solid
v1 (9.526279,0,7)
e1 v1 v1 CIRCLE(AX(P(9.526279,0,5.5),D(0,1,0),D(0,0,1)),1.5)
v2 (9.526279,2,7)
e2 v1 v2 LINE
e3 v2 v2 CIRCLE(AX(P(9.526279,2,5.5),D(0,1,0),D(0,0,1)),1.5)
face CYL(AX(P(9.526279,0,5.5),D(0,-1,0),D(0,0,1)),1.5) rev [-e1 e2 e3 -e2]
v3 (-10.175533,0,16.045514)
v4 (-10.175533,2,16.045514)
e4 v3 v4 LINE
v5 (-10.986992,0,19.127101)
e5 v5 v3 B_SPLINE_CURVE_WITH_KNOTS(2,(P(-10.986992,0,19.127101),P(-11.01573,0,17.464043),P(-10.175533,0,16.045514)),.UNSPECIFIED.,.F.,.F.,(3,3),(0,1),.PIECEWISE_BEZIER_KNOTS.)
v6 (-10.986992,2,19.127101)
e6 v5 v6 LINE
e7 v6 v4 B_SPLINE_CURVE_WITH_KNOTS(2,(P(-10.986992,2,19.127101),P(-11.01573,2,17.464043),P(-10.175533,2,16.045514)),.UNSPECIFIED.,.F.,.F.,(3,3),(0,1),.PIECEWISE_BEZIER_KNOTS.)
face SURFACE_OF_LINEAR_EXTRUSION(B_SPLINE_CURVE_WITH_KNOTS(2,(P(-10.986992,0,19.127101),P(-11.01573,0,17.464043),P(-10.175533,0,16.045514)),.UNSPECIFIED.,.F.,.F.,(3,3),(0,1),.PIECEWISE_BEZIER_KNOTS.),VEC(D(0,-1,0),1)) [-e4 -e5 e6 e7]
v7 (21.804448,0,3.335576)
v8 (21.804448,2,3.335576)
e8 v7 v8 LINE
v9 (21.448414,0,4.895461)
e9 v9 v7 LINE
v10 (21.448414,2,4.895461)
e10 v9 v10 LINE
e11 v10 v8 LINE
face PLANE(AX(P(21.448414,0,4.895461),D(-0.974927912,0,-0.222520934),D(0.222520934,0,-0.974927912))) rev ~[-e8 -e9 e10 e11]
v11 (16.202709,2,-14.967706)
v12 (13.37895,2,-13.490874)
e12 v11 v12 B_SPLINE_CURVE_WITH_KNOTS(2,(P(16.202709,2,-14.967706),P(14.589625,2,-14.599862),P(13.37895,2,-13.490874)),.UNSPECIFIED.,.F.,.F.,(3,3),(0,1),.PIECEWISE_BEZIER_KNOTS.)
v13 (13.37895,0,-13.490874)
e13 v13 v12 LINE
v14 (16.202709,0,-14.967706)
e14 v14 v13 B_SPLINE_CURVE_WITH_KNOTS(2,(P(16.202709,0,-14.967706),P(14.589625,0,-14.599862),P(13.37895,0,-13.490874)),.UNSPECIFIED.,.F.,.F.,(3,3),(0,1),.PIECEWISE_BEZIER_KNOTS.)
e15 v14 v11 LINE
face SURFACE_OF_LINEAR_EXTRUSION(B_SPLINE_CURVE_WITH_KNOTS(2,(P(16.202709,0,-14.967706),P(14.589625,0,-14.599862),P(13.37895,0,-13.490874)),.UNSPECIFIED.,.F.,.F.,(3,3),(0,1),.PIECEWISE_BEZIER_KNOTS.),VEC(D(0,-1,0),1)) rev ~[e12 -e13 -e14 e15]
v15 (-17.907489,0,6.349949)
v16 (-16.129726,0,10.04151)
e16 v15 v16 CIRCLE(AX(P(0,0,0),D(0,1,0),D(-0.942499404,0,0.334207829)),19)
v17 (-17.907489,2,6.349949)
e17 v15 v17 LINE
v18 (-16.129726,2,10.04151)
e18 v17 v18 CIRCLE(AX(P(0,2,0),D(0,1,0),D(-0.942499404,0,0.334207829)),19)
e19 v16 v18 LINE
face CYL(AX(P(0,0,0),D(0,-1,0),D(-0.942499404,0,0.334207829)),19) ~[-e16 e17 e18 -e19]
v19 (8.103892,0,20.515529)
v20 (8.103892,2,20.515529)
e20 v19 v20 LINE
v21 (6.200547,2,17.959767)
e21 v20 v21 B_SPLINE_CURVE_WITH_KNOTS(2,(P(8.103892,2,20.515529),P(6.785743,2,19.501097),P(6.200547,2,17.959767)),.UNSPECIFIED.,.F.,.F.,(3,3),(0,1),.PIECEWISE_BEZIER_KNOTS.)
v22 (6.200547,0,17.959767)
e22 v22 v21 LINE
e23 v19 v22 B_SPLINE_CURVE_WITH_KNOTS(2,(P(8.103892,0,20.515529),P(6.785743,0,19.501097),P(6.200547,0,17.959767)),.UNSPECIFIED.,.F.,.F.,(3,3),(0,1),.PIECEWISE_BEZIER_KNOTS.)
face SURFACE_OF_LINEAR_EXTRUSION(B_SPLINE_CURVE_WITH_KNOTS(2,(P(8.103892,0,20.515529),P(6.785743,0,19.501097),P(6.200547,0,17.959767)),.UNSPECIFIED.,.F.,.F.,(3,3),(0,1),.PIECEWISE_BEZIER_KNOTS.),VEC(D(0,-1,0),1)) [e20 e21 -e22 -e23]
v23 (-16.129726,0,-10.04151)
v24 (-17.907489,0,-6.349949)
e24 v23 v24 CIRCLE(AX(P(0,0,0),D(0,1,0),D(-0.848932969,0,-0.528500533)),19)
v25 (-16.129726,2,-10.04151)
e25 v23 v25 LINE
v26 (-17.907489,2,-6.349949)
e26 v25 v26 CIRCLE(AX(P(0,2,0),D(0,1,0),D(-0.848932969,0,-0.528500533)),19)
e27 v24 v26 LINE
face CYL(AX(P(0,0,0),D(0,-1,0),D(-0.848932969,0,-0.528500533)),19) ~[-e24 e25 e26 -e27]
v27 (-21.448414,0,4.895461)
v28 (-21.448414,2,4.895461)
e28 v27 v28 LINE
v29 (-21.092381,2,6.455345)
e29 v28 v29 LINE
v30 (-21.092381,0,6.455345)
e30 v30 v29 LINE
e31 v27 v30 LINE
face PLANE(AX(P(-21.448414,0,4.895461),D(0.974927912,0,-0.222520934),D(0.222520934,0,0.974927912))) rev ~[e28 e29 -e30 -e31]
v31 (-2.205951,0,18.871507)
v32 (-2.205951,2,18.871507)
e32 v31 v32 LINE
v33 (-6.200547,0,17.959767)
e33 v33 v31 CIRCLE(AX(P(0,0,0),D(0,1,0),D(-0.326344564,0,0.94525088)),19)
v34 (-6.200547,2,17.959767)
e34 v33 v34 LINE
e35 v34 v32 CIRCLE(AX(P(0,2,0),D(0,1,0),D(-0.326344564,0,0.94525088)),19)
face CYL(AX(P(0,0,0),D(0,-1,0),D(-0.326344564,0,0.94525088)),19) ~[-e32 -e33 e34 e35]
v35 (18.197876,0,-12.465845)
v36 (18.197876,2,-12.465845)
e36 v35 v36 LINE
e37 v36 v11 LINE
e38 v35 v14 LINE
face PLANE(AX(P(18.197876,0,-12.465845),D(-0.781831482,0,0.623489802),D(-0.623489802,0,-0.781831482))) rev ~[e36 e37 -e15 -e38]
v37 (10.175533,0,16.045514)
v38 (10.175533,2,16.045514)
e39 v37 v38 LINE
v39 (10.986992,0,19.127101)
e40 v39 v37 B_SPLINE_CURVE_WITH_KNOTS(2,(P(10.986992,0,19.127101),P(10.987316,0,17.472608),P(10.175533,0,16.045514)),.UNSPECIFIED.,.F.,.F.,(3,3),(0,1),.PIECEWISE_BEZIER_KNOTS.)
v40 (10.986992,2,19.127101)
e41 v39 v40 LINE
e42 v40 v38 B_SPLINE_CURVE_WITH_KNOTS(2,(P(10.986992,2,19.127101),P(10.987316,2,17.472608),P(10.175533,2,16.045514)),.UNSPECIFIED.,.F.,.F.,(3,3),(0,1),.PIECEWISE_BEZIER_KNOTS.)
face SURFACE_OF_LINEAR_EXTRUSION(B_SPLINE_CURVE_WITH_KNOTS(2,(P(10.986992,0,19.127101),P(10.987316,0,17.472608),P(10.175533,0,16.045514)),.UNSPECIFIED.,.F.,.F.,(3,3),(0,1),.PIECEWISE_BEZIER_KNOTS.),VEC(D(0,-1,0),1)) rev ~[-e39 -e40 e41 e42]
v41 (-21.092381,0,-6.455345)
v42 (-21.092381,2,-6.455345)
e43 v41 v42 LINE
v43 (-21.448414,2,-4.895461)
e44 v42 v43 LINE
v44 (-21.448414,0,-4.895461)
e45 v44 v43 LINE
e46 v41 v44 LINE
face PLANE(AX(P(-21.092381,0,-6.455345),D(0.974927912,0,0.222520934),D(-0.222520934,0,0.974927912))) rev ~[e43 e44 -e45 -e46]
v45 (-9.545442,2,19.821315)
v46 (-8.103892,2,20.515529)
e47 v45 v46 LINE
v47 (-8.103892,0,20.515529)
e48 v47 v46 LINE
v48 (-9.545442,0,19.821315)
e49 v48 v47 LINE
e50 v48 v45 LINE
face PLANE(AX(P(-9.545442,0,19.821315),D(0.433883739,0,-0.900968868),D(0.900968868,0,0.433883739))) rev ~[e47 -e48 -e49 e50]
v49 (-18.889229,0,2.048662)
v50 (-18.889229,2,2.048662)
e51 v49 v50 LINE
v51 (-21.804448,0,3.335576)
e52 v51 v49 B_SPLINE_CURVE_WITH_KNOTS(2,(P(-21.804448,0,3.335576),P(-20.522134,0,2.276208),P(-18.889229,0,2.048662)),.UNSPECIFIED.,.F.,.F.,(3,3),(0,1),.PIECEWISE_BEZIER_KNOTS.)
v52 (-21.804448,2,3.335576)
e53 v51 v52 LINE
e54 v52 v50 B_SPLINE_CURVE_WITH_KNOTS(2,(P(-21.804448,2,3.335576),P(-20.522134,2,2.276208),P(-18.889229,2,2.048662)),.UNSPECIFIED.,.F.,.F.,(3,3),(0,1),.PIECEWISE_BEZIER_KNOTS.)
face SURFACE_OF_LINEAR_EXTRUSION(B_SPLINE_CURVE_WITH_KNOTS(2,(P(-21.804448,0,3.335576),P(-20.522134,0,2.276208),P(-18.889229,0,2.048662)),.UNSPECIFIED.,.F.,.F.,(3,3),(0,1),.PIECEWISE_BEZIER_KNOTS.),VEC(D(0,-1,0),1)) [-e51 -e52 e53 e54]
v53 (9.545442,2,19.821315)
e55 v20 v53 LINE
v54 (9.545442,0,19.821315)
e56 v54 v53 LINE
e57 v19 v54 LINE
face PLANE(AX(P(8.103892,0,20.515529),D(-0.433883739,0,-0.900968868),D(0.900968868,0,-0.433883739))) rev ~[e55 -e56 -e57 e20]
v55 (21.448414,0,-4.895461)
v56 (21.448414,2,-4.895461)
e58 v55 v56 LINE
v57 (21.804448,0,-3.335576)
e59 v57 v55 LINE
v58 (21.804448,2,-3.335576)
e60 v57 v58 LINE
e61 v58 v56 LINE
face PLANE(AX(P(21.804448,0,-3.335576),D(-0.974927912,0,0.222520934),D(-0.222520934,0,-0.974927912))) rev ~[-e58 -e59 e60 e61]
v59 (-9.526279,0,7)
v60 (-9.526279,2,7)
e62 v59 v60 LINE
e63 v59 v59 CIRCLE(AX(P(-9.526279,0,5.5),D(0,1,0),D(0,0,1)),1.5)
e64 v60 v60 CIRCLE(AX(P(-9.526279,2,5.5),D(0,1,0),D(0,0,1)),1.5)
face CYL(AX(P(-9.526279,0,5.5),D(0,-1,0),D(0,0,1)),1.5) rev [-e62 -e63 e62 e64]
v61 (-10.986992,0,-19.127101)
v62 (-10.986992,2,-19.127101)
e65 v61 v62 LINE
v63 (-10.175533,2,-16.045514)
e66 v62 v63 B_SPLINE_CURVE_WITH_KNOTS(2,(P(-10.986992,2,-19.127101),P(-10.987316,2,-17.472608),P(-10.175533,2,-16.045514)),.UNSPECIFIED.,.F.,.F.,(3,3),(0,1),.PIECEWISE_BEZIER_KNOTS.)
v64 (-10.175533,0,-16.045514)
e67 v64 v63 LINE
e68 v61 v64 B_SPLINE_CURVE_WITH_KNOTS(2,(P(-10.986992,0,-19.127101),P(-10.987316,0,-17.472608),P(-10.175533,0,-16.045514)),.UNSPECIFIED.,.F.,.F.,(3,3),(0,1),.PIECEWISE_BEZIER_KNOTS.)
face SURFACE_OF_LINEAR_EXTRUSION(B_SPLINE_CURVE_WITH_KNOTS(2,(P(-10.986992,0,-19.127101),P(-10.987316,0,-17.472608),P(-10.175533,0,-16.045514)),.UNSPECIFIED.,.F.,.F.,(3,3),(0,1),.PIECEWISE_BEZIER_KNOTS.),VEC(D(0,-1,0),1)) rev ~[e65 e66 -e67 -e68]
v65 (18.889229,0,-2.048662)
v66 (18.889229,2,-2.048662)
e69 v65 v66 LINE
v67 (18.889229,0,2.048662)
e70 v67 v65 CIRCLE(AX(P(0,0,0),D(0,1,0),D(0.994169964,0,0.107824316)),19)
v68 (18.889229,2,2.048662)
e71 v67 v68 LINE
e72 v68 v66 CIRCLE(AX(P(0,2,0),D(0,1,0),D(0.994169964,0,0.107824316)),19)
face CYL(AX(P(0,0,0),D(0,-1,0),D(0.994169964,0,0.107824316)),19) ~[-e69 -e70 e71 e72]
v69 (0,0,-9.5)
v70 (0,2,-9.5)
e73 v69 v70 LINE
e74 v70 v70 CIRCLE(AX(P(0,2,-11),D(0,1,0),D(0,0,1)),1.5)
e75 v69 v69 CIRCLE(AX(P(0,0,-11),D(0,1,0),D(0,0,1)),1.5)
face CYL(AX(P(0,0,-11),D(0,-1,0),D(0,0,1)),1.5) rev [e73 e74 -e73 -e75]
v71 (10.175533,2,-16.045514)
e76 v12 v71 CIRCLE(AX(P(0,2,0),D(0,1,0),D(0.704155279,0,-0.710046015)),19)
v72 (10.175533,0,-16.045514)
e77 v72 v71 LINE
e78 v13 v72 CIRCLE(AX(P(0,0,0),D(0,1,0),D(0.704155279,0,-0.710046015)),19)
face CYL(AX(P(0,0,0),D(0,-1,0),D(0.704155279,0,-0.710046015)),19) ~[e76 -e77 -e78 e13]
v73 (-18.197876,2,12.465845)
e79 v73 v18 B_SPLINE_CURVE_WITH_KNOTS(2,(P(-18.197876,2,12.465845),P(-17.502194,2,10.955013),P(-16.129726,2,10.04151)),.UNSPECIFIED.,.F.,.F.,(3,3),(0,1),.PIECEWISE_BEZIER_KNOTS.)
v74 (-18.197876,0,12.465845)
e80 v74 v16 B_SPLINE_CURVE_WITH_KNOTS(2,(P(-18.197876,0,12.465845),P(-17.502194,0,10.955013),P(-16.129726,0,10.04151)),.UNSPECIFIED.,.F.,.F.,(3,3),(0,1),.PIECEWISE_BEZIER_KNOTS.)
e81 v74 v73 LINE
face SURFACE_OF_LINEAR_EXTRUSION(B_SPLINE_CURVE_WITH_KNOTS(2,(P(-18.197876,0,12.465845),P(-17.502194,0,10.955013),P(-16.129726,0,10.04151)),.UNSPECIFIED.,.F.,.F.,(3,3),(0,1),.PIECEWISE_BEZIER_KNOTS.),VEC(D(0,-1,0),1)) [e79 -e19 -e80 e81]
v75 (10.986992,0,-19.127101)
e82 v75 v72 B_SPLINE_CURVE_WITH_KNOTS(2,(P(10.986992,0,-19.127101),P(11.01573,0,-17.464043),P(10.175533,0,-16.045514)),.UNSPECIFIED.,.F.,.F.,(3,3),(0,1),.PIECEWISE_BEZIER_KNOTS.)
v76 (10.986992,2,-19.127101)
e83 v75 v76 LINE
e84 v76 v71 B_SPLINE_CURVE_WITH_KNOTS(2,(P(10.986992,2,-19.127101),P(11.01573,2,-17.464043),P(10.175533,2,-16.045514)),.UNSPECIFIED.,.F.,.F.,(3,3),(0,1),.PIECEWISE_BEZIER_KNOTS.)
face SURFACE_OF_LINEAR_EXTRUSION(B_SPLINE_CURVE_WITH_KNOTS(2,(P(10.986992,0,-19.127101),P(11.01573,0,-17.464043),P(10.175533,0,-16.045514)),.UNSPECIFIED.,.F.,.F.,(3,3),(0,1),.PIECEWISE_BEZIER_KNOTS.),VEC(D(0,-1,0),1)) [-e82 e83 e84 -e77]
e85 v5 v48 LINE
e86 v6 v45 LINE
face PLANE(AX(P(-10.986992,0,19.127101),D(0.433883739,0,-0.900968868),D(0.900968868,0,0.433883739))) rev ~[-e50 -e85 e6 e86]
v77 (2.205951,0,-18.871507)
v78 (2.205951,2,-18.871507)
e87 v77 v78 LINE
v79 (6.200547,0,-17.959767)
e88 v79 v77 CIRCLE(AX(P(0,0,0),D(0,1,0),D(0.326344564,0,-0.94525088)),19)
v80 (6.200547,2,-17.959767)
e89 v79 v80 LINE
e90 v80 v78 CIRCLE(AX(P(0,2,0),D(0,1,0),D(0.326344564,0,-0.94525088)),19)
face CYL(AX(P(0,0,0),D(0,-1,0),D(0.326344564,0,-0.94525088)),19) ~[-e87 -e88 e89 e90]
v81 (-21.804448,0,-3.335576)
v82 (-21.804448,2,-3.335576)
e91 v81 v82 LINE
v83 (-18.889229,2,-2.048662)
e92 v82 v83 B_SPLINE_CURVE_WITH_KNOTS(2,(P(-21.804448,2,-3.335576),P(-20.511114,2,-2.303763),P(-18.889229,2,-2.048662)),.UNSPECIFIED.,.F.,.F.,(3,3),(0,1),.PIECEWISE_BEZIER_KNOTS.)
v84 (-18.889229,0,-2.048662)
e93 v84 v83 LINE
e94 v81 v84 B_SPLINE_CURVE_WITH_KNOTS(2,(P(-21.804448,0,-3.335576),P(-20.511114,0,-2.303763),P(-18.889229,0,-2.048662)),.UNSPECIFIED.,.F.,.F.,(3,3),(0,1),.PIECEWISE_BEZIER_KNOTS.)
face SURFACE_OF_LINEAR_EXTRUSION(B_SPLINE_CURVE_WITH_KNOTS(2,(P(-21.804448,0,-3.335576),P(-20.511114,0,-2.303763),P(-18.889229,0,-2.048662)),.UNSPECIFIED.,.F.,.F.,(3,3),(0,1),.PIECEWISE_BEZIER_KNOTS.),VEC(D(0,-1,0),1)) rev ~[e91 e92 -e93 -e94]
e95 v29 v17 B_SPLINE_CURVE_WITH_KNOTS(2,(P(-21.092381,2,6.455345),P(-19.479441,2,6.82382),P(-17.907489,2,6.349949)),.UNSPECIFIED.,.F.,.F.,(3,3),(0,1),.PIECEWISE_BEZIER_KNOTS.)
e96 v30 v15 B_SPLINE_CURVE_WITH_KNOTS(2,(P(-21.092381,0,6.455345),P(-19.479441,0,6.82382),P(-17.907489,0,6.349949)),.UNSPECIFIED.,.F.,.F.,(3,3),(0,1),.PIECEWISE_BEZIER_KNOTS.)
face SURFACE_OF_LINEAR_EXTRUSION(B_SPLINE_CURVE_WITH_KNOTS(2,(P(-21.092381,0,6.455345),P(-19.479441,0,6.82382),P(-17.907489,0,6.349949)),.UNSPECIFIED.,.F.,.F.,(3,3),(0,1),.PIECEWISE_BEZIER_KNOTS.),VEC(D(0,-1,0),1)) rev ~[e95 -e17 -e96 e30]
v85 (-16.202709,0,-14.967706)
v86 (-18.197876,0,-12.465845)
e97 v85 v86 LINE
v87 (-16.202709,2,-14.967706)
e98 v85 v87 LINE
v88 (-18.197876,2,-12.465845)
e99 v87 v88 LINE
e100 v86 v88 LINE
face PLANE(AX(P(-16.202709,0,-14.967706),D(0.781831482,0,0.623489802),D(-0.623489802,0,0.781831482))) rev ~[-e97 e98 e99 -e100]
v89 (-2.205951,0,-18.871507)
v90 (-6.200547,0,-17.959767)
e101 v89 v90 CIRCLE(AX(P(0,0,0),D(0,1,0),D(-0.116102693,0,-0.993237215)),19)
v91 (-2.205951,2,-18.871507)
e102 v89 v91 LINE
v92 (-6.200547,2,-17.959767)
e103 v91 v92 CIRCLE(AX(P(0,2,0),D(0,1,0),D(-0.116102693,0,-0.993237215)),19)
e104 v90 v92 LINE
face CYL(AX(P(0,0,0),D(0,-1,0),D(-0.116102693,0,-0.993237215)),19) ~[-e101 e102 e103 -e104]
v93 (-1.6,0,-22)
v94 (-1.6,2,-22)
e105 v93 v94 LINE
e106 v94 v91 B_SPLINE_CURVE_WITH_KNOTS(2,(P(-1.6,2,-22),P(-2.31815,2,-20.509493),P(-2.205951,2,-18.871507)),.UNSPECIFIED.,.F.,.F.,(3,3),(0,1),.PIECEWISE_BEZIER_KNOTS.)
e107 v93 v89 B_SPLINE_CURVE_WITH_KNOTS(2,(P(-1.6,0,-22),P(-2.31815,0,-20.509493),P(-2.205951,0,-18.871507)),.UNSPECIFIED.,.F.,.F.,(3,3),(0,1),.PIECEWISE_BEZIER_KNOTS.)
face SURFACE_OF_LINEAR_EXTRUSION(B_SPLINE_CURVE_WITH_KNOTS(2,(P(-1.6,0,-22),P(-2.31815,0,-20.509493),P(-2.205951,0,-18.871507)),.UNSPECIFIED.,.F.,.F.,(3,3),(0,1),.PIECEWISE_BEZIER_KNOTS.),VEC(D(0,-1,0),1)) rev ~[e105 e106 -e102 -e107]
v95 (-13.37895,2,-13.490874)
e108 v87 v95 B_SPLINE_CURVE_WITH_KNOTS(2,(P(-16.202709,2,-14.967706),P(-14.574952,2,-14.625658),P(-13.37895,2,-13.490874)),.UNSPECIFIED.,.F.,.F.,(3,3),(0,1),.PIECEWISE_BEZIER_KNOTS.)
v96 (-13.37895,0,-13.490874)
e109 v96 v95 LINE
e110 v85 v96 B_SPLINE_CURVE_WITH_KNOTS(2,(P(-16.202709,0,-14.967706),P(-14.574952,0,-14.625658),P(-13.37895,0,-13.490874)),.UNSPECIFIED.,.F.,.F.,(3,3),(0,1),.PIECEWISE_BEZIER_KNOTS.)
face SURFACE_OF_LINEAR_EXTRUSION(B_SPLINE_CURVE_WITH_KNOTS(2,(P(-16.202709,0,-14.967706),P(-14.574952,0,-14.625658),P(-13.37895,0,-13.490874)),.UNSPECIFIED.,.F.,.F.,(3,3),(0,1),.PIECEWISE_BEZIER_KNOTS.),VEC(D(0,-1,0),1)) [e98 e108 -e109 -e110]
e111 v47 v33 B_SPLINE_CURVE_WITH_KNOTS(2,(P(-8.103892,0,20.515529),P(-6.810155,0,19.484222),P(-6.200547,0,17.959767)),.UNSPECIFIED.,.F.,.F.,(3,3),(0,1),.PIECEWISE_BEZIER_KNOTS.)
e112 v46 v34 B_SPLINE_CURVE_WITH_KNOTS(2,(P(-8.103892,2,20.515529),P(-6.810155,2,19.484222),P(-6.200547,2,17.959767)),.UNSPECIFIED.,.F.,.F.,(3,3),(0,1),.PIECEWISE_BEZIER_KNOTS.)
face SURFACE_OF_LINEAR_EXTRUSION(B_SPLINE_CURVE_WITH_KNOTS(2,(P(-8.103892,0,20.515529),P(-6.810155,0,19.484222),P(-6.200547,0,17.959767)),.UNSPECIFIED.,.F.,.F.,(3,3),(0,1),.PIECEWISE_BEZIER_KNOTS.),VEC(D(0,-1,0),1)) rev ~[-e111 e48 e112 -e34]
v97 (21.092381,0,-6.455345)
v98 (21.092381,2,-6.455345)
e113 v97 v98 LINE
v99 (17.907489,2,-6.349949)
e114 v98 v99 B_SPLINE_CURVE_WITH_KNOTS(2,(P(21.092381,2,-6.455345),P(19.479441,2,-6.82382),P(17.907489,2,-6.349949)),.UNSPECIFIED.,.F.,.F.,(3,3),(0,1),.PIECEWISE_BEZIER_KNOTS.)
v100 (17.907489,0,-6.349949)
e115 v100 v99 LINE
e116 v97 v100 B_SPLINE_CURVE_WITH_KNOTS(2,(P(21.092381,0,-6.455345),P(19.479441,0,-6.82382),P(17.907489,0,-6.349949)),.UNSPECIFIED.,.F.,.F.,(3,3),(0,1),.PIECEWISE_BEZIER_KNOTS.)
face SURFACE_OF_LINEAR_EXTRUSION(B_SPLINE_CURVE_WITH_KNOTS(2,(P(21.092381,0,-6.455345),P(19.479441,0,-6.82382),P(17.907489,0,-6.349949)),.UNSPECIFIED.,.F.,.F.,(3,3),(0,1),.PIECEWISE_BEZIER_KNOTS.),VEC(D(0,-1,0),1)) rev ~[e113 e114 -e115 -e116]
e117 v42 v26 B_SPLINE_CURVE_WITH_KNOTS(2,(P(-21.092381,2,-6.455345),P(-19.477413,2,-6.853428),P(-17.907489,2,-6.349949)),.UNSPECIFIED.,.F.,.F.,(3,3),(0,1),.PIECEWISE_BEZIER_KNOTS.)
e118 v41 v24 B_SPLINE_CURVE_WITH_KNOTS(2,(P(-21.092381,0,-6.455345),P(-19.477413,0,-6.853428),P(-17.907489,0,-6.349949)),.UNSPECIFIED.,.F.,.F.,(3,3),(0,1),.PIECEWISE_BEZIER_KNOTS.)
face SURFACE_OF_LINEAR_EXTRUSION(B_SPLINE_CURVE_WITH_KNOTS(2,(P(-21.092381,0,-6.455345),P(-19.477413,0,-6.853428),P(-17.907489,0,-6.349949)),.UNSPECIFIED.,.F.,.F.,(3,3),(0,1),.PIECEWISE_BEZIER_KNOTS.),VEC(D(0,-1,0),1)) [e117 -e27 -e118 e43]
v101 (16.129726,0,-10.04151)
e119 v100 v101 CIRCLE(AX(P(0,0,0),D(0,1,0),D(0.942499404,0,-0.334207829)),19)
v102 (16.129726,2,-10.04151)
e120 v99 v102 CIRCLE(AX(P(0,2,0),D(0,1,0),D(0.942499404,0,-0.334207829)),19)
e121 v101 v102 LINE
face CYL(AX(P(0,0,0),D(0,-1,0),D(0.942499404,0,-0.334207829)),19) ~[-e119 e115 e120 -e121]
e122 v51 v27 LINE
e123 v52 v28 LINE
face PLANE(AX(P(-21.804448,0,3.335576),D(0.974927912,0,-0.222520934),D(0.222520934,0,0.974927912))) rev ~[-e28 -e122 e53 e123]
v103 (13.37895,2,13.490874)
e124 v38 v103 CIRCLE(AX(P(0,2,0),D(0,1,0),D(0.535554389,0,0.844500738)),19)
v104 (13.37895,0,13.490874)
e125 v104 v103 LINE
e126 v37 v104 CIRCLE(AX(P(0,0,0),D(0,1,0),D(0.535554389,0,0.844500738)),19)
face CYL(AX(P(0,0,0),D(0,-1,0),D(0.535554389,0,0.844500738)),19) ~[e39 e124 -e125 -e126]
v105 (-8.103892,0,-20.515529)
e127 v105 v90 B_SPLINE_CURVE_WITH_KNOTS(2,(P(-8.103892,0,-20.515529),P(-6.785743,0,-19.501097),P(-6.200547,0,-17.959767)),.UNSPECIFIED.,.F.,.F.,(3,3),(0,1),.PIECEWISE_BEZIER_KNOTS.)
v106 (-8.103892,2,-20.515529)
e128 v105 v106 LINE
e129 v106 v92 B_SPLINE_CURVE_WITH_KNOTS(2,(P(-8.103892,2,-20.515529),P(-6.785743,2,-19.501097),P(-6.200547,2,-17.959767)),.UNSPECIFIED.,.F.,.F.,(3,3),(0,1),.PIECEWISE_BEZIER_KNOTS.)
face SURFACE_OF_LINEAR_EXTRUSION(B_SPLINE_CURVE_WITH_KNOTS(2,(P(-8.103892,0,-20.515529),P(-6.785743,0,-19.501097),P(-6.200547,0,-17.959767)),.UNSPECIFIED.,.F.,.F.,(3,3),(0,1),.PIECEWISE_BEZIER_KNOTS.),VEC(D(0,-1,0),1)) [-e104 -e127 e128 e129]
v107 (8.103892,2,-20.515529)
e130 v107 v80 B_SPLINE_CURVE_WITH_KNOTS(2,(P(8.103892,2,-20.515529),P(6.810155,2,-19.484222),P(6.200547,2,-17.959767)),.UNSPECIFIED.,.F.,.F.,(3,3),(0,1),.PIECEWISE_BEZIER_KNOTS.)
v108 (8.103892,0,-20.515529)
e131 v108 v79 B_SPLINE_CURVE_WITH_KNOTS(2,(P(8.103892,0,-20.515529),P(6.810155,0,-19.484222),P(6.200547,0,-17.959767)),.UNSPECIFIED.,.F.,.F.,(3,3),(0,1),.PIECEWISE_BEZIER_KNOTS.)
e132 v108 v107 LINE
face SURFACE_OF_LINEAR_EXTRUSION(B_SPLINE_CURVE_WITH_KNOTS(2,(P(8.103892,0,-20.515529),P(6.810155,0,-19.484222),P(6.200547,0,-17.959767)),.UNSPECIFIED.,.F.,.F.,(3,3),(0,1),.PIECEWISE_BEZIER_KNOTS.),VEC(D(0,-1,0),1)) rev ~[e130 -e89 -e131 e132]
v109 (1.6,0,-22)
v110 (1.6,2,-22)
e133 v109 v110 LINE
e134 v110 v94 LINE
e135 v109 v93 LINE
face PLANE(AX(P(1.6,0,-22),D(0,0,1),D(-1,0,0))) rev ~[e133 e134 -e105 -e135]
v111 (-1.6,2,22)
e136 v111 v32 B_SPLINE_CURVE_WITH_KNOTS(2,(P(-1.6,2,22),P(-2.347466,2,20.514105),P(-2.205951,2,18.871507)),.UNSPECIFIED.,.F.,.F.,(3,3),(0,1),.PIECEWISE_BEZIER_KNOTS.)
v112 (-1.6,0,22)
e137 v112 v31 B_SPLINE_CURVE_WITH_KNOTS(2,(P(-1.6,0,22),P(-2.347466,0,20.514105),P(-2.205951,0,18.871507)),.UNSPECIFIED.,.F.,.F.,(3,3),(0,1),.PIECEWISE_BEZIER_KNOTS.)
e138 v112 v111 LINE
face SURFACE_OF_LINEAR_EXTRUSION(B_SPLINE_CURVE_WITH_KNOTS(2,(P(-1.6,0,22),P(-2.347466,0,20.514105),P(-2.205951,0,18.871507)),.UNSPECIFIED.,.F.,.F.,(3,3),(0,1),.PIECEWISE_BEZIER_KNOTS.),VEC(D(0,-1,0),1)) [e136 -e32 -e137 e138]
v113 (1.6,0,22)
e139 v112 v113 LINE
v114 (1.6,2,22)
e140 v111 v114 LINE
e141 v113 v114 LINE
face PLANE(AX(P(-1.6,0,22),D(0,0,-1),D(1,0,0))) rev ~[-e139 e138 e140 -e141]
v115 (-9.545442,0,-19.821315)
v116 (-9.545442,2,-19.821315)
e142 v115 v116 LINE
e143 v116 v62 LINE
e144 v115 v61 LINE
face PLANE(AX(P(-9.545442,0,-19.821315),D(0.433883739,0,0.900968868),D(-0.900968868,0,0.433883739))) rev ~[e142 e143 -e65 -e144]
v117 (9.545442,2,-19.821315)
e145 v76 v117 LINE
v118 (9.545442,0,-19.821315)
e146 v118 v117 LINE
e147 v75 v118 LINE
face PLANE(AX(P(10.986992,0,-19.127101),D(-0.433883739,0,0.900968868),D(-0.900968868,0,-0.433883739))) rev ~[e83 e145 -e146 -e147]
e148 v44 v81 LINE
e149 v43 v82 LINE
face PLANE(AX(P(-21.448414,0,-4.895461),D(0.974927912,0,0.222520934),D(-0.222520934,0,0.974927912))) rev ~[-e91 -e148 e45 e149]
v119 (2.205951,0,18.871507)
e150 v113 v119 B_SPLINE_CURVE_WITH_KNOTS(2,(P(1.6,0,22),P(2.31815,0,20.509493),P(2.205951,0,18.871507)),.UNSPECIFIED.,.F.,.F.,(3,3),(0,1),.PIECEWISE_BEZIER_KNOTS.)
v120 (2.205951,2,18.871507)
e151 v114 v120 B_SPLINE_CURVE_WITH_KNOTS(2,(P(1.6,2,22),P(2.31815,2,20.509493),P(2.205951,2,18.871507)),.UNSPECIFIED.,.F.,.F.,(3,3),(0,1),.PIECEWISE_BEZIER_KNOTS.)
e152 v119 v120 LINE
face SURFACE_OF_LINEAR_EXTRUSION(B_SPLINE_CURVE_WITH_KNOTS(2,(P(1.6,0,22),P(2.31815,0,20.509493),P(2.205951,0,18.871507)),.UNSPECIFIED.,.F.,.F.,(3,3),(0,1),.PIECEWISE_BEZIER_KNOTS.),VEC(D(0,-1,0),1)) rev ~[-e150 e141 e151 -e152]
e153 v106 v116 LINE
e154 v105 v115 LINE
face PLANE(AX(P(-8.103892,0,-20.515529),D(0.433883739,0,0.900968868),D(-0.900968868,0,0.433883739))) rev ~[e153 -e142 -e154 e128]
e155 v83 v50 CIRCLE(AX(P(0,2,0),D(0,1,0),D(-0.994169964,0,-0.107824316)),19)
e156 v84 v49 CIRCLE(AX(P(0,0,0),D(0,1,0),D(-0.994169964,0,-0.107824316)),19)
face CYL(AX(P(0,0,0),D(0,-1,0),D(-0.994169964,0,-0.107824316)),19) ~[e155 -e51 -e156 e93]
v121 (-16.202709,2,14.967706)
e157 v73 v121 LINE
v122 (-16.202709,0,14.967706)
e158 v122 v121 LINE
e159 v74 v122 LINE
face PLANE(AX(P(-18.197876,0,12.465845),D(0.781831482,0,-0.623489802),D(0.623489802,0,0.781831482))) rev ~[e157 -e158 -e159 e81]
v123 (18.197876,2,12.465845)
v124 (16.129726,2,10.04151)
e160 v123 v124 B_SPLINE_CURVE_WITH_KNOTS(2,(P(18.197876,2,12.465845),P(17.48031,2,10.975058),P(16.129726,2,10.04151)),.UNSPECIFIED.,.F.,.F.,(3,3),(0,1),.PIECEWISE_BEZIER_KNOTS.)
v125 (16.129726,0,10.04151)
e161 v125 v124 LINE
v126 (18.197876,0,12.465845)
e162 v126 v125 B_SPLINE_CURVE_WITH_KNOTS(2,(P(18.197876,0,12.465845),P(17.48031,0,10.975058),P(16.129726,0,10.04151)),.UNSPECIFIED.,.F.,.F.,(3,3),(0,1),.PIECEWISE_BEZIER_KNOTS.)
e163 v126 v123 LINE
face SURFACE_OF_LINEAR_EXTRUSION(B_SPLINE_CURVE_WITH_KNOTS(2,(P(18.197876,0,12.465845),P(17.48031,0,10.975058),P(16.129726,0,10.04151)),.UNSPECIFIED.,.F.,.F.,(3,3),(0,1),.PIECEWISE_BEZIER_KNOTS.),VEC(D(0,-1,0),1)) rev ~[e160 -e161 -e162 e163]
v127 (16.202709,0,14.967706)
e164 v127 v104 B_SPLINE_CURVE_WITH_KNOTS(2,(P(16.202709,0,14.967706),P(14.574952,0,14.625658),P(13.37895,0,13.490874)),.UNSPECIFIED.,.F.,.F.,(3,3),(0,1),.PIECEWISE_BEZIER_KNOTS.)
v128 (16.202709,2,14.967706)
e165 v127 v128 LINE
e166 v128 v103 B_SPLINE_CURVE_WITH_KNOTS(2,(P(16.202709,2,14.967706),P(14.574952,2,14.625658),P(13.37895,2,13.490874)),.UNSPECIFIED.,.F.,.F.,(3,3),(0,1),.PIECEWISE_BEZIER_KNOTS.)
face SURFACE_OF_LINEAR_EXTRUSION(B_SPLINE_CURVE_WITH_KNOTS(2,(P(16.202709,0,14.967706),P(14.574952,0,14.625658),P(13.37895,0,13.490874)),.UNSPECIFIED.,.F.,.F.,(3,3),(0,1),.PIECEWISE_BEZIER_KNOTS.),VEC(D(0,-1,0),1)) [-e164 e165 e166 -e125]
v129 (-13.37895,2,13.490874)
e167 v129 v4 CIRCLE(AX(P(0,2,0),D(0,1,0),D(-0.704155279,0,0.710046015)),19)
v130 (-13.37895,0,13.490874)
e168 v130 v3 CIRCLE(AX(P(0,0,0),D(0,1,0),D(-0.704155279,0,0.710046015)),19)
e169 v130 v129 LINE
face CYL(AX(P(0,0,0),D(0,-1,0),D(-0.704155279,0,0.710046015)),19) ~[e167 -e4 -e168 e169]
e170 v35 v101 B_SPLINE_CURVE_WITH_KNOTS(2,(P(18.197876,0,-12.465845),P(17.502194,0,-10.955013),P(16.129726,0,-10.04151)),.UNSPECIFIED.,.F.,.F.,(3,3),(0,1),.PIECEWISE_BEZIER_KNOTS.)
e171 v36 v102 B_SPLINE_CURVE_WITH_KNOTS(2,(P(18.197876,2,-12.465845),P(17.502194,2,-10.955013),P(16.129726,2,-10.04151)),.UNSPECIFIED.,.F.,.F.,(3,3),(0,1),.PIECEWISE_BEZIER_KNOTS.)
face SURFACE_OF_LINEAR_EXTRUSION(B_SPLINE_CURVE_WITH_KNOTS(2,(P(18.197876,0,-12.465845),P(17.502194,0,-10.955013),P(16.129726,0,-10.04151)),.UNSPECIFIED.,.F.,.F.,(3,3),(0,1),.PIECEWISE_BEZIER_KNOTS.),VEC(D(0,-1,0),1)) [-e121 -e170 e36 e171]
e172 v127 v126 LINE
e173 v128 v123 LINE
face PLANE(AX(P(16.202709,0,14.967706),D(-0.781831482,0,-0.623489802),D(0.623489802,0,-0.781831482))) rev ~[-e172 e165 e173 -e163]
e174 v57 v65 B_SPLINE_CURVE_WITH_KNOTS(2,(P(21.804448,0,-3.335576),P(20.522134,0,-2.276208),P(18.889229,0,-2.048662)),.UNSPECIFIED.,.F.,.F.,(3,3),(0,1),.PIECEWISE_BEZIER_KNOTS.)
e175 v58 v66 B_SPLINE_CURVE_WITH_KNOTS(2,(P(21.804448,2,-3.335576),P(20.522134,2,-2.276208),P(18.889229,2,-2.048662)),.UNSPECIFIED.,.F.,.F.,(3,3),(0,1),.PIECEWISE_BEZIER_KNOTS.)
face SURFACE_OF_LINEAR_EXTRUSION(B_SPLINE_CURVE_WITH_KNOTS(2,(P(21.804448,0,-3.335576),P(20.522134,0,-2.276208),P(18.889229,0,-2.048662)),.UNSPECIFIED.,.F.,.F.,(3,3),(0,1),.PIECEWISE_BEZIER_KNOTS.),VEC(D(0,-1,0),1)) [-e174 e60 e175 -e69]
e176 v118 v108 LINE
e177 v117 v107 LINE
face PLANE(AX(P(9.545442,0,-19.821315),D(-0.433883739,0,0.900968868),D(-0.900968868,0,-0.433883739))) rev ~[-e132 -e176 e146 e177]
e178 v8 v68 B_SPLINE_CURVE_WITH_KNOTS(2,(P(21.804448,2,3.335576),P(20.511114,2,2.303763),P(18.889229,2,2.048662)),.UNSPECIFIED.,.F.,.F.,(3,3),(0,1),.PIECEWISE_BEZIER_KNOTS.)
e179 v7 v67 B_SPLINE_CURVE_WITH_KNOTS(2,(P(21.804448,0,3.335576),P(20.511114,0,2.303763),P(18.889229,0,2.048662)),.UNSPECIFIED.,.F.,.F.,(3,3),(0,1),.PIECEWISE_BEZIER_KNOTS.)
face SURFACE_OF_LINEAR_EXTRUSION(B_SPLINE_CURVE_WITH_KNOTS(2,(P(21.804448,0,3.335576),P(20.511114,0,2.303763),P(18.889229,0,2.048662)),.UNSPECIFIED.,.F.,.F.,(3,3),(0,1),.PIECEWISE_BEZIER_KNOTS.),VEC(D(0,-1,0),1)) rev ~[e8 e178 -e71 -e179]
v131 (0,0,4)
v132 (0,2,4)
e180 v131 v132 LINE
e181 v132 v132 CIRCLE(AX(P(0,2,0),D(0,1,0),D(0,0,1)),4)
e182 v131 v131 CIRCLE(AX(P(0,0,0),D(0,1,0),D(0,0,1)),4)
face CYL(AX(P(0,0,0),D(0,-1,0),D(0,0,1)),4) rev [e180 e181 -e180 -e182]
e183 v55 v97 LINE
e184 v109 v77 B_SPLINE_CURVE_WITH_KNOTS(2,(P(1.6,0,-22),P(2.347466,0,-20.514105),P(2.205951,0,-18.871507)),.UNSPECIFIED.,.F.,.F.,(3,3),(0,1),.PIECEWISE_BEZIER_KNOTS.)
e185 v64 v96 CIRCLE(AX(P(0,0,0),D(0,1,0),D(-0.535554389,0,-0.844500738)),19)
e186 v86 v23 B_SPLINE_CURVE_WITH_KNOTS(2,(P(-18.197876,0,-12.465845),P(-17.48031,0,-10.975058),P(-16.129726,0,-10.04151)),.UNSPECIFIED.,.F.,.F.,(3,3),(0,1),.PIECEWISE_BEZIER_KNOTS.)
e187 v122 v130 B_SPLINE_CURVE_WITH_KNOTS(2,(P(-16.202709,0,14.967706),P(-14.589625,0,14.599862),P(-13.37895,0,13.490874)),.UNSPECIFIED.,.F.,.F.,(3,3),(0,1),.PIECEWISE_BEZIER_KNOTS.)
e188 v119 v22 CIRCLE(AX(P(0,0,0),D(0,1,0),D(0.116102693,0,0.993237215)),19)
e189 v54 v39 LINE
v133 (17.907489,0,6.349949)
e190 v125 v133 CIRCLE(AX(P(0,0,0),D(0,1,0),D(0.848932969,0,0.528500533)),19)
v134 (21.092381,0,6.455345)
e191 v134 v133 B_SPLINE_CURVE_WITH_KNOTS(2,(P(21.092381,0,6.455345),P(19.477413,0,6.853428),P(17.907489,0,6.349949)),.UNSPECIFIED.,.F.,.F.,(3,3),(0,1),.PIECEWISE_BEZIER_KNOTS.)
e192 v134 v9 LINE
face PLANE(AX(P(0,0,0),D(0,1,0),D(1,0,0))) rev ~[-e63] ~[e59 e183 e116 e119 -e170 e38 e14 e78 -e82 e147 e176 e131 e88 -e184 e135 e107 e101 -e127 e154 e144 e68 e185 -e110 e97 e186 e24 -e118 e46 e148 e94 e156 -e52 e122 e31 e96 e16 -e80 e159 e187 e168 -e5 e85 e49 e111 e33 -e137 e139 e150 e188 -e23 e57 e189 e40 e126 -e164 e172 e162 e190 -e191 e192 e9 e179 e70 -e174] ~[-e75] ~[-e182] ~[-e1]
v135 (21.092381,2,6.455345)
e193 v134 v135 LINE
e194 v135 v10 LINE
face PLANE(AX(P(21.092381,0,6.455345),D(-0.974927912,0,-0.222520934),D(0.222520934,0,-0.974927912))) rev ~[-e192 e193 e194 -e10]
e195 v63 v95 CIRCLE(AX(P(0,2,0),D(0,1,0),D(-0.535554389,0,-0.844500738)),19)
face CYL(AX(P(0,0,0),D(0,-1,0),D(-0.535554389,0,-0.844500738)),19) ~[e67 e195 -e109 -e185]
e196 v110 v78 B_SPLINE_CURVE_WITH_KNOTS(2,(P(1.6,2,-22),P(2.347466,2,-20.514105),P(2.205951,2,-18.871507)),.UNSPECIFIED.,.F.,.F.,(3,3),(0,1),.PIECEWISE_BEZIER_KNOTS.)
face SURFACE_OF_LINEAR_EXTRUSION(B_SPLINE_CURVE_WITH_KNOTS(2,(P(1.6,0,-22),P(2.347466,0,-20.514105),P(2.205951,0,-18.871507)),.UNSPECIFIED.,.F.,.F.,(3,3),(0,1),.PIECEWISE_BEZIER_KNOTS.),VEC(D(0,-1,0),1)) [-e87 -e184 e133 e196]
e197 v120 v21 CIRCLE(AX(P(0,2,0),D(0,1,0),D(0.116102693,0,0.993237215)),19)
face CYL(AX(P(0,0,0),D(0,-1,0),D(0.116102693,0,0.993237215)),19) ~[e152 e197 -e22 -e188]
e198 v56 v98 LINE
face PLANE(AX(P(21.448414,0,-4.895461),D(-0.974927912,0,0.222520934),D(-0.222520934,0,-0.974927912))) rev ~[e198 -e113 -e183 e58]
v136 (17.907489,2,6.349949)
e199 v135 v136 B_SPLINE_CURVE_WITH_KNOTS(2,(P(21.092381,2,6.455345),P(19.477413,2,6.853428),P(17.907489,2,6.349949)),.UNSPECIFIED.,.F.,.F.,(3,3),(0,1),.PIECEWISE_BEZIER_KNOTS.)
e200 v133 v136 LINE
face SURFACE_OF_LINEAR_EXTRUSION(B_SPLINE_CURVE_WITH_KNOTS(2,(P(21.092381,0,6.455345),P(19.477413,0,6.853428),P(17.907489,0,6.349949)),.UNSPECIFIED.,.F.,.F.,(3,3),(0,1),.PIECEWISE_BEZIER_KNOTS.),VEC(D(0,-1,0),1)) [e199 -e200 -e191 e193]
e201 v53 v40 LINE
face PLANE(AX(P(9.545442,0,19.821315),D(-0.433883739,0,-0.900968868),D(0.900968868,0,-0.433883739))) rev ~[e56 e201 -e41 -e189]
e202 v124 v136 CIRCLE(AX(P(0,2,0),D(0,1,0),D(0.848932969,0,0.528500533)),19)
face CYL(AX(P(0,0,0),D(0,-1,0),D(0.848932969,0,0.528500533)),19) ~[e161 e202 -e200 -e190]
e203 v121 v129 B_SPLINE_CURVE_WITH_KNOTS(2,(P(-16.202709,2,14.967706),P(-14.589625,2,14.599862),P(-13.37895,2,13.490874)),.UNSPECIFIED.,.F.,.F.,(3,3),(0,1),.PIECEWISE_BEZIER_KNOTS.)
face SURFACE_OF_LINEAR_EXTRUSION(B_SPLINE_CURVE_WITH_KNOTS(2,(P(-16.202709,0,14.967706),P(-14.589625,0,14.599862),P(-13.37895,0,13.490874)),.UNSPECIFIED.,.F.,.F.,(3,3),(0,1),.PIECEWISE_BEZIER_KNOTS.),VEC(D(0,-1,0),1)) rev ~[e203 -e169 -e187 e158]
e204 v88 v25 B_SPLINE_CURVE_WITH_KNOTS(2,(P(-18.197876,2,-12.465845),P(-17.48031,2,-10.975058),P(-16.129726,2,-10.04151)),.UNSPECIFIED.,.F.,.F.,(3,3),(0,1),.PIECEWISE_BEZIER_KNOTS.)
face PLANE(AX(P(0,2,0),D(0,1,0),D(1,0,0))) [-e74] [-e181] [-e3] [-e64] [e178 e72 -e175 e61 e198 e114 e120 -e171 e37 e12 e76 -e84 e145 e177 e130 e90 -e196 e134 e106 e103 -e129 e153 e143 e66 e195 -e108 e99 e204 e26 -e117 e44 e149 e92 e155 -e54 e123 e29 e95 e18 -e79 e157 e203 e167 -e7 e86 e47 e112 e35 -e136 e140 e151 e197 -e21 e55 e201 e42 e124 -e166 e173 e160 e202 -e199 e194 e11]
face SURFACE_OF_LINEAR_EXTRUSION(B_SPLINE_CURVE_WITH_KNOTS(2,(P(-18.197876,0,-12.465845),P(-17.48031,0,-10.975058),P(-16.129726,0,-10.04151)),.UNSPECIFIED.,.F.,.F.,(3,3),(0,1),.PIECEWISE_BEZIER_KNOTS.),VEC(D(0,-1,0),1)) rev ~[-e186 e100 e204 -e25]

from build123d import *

# Parameters (mm, degrees)
SKETCH1_R           = 4
SKETCH1_R_2         = 1.5
BOSS_EXTRUDE1_DEPTH = 2


with BuildPart() as part:
    # Sketch1 → Boss-Extrude1 (new body)
    with BuildSketch(Plane(origin=(0, 0, 0), x_dir=(1, 0, 0), z_dir=(0, 1, 0))):
        with BuildLine():
            Line((0, 22), (-1.6, 22))
            add(Edge.make_bspline(
                [(-1.6, 22), (-2.318149564, 20.509493388), (-2.205951168, 18.871507079)],
                knots=[0, 0, 0, 1, 1, 1], degree=2))
            ThreePointArc((-2.205951168, 18.871507079), (-4.227897745, 18.523630331), (-6.200546728, 17.95976671))
            add(Edge.make_bspline(
                [(-8.103892072, 20.515529076), (-6.785743067, 19.501097309), (-6.200546728, 17.95976671)],
                knots=[0, 0, 0, 1, 1, 1], degree=2))
            Line((-8.103892072, 20.515529076), (-9.545442261, 19.821315094))
            Line((-9.545442261, 19.821315094), (-10.986992449, 19.127101111))
            add(Edge.make_bspline(
                [(-10.986992449, 19.127101111), (-10.987316267, 17.472607638), (-10.175533381, 16.045514028)],
                knots=[0, 0, 0, 1, 1, 1], degree=2))
            ThreePointArc((-10.175533381, 16.045514028), (-11.846306235, 14.854798167), (-13.3789503, 13.490874281))
            add(Edge.make_bspline(
                [(-16.202708931, 14.967706013), (-14.574952266, 14.62565799), (-13.3789503, 13.490874281)],
                knots=[0, 0, 0, 1, 1, 1], degree=2))
            Line((-16.202708931, 14.967706013), (-17.200292614, 13.716775641))
            Line((-17.200292614, 13.716775641), (-18.197876297, 12.465845269))
            add(Edge.make_bspline(
                [(-18.197876297, 12.465845269), (-17.480310233, 10.975057658), (-16.129726413, 10.041510138)],
                knots=[0, 0, 0, 1, 1, 1], degree=2))
            ThreePointArc((-16.129726413, 10.041510138), (-17.11840849, 8.243791043), (-17.907488682, 6.349948747))
            add(Edge.make_bspline(
                [(-21.092380574, 6.455345207), (-19.477413419, 6.853427735), (-17.907488682, 6.349948747)],
                knots=[0, 0, 0, 1, 1, 1], degree=2))
            Line((-21.092380574, 6.455345207), (-21.448414068, 4.895460547))
            Line((-21.448414068, 4.895460547), (-21.804447562, 3.335575888))
            add(Edge.make_bspline(
                [(-21.804447562, 3.335575888), (-20.511114375, 2.303762909), (-18.889229311, 2.048662014)],
                knots=[0, 0, 0, 1, 1, 1], degree=2))
            ThreePointArc((-18.889229311, 2.048662014), (-19, 0), (-18.889229311, -2.048662014))
            add(Edge.make_bspline(
                [(-21.804447562, -3.335575888), (-20.522133969, -2.276207935), (-18.889229311, -2.048662014)],
                knots=[0, 0, 0, 1, 1, 1], degree=2))
            Line((-21.804447562, -3.335575888), (-21.448414068, -4.895460547))
            Line((-21.448414068, -4.895460547), (-21.092380574, -6.455345207))
            add(Edge.make_bspline(
                [(-21.092380574, -6.455345207), (-19.479440763, -6.823820339), (-17.907488682, -6.349948747)],
                knots=[0, 0, 0, 1, 1, 1], degree=2))
            ThreePointArc((-17.907488682, -6.349948747), (-17.11840849, -8.243791043), (-16.129726413, -10.041510138))
            add(Edge.make_bspline(
                [(-18.197876297, -12.465845269), (-17.502194199, -10.955012707), (-16.129726413, -10.041510138)],
                knots=[0, 0, 0, 1, 1, 1], degree=2))
            Line((-18.197876297, -12.465845269), (-17.200292614, -13.716775641))
            Line((-17.200292614, -13.716775641), (-16.202708931, -14.967706013))
            add(Edge.make_bspline(
                [(-16.202708931, -14.967706013), (-14.589625008, -14.599862279), (-13.3789503, -13.490874281)],
                knots=[0, 0, 0, 1, 1, 1], degree=2))
            ThreePointArc((-13.3789503, -13.490874281), (-11.846306235, -14.854798167), (-10.175533381, -16.045514028))
            add(Edge.make_bspline(
                [(-10.986992449, -19.127101111), (-11.015730218, -17.464042859), (-10.175533381, -16.045514028)],
                knots=[0, 0, 0, 1, 1, 1], degree=2))
            Line((-10.986992449, -19.127101111), (-9.545442261, -19.821315094))
            Line((-9.545442261, -19.821315094), (-8.103892072, -20.515529076))
            add(Edge.make_bspline(
                [(-8.103892072, -20.515529076), (-6.81015509, -19.48422244), (-6.200546728, -17.95976671)],
                knots=[0, 0, 0, 1, 1, 1], degree=2))
            ThreePointArc((-6.200546728, -17.95976671), (-4.227897745, -18.523630331), (-2.205951168, -18.871507079))
            add(Edge.make_bspline(
                [(-1.6, -22), (-2.347465768, -20.514105139), (-2.205951168, -18.871507079)],
                knots=[0, 0, 0, 1, 1, 1], degree=2))
            Line((-1.6, -22), (0, -22))
            Line((0, -22), (1.6, -22))
            add(Edge.make_bspline(
                [(1.6, -22), (2.318149564, -20.509493388), (2.205951168, -18.871507079)],
                knots=[0, 0, 0, 1, 1, 1], degree=2))
            ThreePointArc((2.205951168, -18.871507079), (4.227897745, -18.523630331), (6.200546728, -17.95976671))
            add(Edge.make_bspline(
                [(8.103892072, -20.515529076), (6.785743067, -19.501097309), (6.200546728, -17.95976671)],
                knots=[0, 0, 0, 1, 1, 1], degree=2))
            Line((8.103892072, -20.515529076), (9.545442261, -19.821315094))
            Line((9.545442261, -19.821315094), (10.986992449, -19.127101111))
            add(Edge.make_bspline(
                [(10.986992449, -19.127101111), (10.987316267, -17.472607638), (10.175533381, -16.045514028)],
                knots=[0, 0, 0, 1, 1, 1], degree=2))
            ThreePointArc((10.175533381, -16.045514028), (11.846306235, -14.854798167), (13.3789503, -13.490874281))
            add(Edge.make_bspline(
                [(16.202708931, -14.967706013), (14.574952266, -14.62565799), (13.3789503, -13.490874281)],
                knots=[0, 0, 0, 1, 1, 1], degree=2))
            Line((16.202708931, -14.967706013), (17.200292614, -13.716775641))
            Line((17.200292614, -13.716775641), (18.197876297, -12.465845269))
            add(Edge.make_bspline(
                [(18.197876297, -12.465845269), (17.480310233, -10.975057658), (16.129726413, -10.041510138)],
                knots=[0, 0, 0, 1, 1, 1], degree=2))
            ThreePointArc((16.129726413, -10.041510138), (17.11840849, -8.243791043), (17.907488682, -6.349948747))
            add(Edge.make_bspline(
                [(21.092380574, -6.455345207), (19.477413419, -6.853427735), (17.907488682, -6.349948747)],
                knots=[0, 0, 0, 1, 1, 1], degree=2))
            Line((21.092380574, -6.455345207), (21.448414068, -4.895460547))
            Line((21.448414068, -4.895460547), (21.804447562, -3.335575888))
            add(Edge.make_bspline(
                [(21.804447562, -3.335575888), (20.511114375, -2.303762909), (18.889229311, -2.048662014)],
                knots=[0, 0, 0, 1, 1, 1], degree=2))
            ThreePointArc((18.889229311, -2.048662014), (19, 0), (18.889229311, 2.048662014))
            add(Edge.make_bspline(
                [(21.804447562, 3.335575888), (20.522133969, 2.276207935), (18.889229311, 2.048662014)],
                knots=[0, 0, 0, 1, 1, 1], degree=2))
            Line((21.804447562, 3.335575888), (21.448414068, 4.895460547))
            Line((21.448414068, 4.895460547), (21.092380574, 6.455345207))
            add(Edge.make_bspline(
                [(21.092380574, 6.455345207), (19.479440763, 6.823820339), (17.907488682, 6.349948747)],
                knots=[0, 0, 0, 1, 1, 1], degree=2))
            ThreePointArc((17.907488682, 6.349948747), (17.11840849, 8.243791043), (16.129726413, 10.041510138))
            add(Edge.make_bspline(
                [(18.197876297, 12.465845269), (17.502194199, 10.955012707), (16.129726413, 10.041510138)],
                knots=[0, 0, 0, 1, 1, 1], degree=2))
            Line((18.197876297, 12.465845269), (17.200292614, 13.716775641))
            Line((17.200292614, 13.716775641), (16.202708931, 14.967706013))
            add(Edge.make_bspline(
                [(16.202708931, 14.967706013), (14.589625008, 14.599862279), (13.3789503, 13.490874281)],
                knots=[0, 0, 0, 1, 1, 1], degree=2))
            ThreePointArc((13.3789503, 13.490874281), (11.846306235, 14.854798167), (10.175533381, 16.045514028))
            add(Edge.make_bspline(
                [(10.986992449, 19.127101111), (11.015730218, 17.464042859), (10.175533381, 16.045514028)],
                knots=[0, 0, 0, 1, 1, 1], degree=2))
            Line((10.986992449, 19.127101111), (9.545442261, 19.821315094))
            Line((9.545442261, 19.821315094), (8.103892072, 20.515529076))
            add(Edge.make_bspline(
                [(8.103892072, 20.515529076), (6.81015509, 19.48422244), (6.200546728, 17.95976671)],
                knots=[0, 0, 0, 1, 1, 1], degree=2))
            ThreePointArc((6.200546728, 17.95976671), (4.227897745, 18.523630331), (2.205951168, 18.871507079))
            add(Edge.make_bspline(
                [(1.6, 22), (2.347465768, 20.514105139), (2.205951168, 18.871507079)],
                knots=[0, 0, 0, 1, 1, 1], degree=2))
            Line((1.6, 22), (0, 22))
        make_face()
        with Locations(Location((0, 0, 0), (0, 0, 270))):
            Circle(SKETCH1_R, mode=Mode.SUBTRACT)
        with Locations(Location((0, 11, 0), (0, 0, 270))):
            Circle(SKETCH1_R_2, mode=Mode.SUBTRACT)
        with Locations(Location((9.526279442, -5.5, 0), (0, 0, 270))):
            Circle(SKETCH1_R_2, mode=Mode.SUBTRACT)
        with Locations(Location((-9.526279442, -5.5, 0), (0, 0, 270))):
            Circle(SKETCH1_R_2, mode=Mode.SUBTRACT)
    extrude(amount=BOSS_EXTRUDE1_DEPTH)


solid = part.part
